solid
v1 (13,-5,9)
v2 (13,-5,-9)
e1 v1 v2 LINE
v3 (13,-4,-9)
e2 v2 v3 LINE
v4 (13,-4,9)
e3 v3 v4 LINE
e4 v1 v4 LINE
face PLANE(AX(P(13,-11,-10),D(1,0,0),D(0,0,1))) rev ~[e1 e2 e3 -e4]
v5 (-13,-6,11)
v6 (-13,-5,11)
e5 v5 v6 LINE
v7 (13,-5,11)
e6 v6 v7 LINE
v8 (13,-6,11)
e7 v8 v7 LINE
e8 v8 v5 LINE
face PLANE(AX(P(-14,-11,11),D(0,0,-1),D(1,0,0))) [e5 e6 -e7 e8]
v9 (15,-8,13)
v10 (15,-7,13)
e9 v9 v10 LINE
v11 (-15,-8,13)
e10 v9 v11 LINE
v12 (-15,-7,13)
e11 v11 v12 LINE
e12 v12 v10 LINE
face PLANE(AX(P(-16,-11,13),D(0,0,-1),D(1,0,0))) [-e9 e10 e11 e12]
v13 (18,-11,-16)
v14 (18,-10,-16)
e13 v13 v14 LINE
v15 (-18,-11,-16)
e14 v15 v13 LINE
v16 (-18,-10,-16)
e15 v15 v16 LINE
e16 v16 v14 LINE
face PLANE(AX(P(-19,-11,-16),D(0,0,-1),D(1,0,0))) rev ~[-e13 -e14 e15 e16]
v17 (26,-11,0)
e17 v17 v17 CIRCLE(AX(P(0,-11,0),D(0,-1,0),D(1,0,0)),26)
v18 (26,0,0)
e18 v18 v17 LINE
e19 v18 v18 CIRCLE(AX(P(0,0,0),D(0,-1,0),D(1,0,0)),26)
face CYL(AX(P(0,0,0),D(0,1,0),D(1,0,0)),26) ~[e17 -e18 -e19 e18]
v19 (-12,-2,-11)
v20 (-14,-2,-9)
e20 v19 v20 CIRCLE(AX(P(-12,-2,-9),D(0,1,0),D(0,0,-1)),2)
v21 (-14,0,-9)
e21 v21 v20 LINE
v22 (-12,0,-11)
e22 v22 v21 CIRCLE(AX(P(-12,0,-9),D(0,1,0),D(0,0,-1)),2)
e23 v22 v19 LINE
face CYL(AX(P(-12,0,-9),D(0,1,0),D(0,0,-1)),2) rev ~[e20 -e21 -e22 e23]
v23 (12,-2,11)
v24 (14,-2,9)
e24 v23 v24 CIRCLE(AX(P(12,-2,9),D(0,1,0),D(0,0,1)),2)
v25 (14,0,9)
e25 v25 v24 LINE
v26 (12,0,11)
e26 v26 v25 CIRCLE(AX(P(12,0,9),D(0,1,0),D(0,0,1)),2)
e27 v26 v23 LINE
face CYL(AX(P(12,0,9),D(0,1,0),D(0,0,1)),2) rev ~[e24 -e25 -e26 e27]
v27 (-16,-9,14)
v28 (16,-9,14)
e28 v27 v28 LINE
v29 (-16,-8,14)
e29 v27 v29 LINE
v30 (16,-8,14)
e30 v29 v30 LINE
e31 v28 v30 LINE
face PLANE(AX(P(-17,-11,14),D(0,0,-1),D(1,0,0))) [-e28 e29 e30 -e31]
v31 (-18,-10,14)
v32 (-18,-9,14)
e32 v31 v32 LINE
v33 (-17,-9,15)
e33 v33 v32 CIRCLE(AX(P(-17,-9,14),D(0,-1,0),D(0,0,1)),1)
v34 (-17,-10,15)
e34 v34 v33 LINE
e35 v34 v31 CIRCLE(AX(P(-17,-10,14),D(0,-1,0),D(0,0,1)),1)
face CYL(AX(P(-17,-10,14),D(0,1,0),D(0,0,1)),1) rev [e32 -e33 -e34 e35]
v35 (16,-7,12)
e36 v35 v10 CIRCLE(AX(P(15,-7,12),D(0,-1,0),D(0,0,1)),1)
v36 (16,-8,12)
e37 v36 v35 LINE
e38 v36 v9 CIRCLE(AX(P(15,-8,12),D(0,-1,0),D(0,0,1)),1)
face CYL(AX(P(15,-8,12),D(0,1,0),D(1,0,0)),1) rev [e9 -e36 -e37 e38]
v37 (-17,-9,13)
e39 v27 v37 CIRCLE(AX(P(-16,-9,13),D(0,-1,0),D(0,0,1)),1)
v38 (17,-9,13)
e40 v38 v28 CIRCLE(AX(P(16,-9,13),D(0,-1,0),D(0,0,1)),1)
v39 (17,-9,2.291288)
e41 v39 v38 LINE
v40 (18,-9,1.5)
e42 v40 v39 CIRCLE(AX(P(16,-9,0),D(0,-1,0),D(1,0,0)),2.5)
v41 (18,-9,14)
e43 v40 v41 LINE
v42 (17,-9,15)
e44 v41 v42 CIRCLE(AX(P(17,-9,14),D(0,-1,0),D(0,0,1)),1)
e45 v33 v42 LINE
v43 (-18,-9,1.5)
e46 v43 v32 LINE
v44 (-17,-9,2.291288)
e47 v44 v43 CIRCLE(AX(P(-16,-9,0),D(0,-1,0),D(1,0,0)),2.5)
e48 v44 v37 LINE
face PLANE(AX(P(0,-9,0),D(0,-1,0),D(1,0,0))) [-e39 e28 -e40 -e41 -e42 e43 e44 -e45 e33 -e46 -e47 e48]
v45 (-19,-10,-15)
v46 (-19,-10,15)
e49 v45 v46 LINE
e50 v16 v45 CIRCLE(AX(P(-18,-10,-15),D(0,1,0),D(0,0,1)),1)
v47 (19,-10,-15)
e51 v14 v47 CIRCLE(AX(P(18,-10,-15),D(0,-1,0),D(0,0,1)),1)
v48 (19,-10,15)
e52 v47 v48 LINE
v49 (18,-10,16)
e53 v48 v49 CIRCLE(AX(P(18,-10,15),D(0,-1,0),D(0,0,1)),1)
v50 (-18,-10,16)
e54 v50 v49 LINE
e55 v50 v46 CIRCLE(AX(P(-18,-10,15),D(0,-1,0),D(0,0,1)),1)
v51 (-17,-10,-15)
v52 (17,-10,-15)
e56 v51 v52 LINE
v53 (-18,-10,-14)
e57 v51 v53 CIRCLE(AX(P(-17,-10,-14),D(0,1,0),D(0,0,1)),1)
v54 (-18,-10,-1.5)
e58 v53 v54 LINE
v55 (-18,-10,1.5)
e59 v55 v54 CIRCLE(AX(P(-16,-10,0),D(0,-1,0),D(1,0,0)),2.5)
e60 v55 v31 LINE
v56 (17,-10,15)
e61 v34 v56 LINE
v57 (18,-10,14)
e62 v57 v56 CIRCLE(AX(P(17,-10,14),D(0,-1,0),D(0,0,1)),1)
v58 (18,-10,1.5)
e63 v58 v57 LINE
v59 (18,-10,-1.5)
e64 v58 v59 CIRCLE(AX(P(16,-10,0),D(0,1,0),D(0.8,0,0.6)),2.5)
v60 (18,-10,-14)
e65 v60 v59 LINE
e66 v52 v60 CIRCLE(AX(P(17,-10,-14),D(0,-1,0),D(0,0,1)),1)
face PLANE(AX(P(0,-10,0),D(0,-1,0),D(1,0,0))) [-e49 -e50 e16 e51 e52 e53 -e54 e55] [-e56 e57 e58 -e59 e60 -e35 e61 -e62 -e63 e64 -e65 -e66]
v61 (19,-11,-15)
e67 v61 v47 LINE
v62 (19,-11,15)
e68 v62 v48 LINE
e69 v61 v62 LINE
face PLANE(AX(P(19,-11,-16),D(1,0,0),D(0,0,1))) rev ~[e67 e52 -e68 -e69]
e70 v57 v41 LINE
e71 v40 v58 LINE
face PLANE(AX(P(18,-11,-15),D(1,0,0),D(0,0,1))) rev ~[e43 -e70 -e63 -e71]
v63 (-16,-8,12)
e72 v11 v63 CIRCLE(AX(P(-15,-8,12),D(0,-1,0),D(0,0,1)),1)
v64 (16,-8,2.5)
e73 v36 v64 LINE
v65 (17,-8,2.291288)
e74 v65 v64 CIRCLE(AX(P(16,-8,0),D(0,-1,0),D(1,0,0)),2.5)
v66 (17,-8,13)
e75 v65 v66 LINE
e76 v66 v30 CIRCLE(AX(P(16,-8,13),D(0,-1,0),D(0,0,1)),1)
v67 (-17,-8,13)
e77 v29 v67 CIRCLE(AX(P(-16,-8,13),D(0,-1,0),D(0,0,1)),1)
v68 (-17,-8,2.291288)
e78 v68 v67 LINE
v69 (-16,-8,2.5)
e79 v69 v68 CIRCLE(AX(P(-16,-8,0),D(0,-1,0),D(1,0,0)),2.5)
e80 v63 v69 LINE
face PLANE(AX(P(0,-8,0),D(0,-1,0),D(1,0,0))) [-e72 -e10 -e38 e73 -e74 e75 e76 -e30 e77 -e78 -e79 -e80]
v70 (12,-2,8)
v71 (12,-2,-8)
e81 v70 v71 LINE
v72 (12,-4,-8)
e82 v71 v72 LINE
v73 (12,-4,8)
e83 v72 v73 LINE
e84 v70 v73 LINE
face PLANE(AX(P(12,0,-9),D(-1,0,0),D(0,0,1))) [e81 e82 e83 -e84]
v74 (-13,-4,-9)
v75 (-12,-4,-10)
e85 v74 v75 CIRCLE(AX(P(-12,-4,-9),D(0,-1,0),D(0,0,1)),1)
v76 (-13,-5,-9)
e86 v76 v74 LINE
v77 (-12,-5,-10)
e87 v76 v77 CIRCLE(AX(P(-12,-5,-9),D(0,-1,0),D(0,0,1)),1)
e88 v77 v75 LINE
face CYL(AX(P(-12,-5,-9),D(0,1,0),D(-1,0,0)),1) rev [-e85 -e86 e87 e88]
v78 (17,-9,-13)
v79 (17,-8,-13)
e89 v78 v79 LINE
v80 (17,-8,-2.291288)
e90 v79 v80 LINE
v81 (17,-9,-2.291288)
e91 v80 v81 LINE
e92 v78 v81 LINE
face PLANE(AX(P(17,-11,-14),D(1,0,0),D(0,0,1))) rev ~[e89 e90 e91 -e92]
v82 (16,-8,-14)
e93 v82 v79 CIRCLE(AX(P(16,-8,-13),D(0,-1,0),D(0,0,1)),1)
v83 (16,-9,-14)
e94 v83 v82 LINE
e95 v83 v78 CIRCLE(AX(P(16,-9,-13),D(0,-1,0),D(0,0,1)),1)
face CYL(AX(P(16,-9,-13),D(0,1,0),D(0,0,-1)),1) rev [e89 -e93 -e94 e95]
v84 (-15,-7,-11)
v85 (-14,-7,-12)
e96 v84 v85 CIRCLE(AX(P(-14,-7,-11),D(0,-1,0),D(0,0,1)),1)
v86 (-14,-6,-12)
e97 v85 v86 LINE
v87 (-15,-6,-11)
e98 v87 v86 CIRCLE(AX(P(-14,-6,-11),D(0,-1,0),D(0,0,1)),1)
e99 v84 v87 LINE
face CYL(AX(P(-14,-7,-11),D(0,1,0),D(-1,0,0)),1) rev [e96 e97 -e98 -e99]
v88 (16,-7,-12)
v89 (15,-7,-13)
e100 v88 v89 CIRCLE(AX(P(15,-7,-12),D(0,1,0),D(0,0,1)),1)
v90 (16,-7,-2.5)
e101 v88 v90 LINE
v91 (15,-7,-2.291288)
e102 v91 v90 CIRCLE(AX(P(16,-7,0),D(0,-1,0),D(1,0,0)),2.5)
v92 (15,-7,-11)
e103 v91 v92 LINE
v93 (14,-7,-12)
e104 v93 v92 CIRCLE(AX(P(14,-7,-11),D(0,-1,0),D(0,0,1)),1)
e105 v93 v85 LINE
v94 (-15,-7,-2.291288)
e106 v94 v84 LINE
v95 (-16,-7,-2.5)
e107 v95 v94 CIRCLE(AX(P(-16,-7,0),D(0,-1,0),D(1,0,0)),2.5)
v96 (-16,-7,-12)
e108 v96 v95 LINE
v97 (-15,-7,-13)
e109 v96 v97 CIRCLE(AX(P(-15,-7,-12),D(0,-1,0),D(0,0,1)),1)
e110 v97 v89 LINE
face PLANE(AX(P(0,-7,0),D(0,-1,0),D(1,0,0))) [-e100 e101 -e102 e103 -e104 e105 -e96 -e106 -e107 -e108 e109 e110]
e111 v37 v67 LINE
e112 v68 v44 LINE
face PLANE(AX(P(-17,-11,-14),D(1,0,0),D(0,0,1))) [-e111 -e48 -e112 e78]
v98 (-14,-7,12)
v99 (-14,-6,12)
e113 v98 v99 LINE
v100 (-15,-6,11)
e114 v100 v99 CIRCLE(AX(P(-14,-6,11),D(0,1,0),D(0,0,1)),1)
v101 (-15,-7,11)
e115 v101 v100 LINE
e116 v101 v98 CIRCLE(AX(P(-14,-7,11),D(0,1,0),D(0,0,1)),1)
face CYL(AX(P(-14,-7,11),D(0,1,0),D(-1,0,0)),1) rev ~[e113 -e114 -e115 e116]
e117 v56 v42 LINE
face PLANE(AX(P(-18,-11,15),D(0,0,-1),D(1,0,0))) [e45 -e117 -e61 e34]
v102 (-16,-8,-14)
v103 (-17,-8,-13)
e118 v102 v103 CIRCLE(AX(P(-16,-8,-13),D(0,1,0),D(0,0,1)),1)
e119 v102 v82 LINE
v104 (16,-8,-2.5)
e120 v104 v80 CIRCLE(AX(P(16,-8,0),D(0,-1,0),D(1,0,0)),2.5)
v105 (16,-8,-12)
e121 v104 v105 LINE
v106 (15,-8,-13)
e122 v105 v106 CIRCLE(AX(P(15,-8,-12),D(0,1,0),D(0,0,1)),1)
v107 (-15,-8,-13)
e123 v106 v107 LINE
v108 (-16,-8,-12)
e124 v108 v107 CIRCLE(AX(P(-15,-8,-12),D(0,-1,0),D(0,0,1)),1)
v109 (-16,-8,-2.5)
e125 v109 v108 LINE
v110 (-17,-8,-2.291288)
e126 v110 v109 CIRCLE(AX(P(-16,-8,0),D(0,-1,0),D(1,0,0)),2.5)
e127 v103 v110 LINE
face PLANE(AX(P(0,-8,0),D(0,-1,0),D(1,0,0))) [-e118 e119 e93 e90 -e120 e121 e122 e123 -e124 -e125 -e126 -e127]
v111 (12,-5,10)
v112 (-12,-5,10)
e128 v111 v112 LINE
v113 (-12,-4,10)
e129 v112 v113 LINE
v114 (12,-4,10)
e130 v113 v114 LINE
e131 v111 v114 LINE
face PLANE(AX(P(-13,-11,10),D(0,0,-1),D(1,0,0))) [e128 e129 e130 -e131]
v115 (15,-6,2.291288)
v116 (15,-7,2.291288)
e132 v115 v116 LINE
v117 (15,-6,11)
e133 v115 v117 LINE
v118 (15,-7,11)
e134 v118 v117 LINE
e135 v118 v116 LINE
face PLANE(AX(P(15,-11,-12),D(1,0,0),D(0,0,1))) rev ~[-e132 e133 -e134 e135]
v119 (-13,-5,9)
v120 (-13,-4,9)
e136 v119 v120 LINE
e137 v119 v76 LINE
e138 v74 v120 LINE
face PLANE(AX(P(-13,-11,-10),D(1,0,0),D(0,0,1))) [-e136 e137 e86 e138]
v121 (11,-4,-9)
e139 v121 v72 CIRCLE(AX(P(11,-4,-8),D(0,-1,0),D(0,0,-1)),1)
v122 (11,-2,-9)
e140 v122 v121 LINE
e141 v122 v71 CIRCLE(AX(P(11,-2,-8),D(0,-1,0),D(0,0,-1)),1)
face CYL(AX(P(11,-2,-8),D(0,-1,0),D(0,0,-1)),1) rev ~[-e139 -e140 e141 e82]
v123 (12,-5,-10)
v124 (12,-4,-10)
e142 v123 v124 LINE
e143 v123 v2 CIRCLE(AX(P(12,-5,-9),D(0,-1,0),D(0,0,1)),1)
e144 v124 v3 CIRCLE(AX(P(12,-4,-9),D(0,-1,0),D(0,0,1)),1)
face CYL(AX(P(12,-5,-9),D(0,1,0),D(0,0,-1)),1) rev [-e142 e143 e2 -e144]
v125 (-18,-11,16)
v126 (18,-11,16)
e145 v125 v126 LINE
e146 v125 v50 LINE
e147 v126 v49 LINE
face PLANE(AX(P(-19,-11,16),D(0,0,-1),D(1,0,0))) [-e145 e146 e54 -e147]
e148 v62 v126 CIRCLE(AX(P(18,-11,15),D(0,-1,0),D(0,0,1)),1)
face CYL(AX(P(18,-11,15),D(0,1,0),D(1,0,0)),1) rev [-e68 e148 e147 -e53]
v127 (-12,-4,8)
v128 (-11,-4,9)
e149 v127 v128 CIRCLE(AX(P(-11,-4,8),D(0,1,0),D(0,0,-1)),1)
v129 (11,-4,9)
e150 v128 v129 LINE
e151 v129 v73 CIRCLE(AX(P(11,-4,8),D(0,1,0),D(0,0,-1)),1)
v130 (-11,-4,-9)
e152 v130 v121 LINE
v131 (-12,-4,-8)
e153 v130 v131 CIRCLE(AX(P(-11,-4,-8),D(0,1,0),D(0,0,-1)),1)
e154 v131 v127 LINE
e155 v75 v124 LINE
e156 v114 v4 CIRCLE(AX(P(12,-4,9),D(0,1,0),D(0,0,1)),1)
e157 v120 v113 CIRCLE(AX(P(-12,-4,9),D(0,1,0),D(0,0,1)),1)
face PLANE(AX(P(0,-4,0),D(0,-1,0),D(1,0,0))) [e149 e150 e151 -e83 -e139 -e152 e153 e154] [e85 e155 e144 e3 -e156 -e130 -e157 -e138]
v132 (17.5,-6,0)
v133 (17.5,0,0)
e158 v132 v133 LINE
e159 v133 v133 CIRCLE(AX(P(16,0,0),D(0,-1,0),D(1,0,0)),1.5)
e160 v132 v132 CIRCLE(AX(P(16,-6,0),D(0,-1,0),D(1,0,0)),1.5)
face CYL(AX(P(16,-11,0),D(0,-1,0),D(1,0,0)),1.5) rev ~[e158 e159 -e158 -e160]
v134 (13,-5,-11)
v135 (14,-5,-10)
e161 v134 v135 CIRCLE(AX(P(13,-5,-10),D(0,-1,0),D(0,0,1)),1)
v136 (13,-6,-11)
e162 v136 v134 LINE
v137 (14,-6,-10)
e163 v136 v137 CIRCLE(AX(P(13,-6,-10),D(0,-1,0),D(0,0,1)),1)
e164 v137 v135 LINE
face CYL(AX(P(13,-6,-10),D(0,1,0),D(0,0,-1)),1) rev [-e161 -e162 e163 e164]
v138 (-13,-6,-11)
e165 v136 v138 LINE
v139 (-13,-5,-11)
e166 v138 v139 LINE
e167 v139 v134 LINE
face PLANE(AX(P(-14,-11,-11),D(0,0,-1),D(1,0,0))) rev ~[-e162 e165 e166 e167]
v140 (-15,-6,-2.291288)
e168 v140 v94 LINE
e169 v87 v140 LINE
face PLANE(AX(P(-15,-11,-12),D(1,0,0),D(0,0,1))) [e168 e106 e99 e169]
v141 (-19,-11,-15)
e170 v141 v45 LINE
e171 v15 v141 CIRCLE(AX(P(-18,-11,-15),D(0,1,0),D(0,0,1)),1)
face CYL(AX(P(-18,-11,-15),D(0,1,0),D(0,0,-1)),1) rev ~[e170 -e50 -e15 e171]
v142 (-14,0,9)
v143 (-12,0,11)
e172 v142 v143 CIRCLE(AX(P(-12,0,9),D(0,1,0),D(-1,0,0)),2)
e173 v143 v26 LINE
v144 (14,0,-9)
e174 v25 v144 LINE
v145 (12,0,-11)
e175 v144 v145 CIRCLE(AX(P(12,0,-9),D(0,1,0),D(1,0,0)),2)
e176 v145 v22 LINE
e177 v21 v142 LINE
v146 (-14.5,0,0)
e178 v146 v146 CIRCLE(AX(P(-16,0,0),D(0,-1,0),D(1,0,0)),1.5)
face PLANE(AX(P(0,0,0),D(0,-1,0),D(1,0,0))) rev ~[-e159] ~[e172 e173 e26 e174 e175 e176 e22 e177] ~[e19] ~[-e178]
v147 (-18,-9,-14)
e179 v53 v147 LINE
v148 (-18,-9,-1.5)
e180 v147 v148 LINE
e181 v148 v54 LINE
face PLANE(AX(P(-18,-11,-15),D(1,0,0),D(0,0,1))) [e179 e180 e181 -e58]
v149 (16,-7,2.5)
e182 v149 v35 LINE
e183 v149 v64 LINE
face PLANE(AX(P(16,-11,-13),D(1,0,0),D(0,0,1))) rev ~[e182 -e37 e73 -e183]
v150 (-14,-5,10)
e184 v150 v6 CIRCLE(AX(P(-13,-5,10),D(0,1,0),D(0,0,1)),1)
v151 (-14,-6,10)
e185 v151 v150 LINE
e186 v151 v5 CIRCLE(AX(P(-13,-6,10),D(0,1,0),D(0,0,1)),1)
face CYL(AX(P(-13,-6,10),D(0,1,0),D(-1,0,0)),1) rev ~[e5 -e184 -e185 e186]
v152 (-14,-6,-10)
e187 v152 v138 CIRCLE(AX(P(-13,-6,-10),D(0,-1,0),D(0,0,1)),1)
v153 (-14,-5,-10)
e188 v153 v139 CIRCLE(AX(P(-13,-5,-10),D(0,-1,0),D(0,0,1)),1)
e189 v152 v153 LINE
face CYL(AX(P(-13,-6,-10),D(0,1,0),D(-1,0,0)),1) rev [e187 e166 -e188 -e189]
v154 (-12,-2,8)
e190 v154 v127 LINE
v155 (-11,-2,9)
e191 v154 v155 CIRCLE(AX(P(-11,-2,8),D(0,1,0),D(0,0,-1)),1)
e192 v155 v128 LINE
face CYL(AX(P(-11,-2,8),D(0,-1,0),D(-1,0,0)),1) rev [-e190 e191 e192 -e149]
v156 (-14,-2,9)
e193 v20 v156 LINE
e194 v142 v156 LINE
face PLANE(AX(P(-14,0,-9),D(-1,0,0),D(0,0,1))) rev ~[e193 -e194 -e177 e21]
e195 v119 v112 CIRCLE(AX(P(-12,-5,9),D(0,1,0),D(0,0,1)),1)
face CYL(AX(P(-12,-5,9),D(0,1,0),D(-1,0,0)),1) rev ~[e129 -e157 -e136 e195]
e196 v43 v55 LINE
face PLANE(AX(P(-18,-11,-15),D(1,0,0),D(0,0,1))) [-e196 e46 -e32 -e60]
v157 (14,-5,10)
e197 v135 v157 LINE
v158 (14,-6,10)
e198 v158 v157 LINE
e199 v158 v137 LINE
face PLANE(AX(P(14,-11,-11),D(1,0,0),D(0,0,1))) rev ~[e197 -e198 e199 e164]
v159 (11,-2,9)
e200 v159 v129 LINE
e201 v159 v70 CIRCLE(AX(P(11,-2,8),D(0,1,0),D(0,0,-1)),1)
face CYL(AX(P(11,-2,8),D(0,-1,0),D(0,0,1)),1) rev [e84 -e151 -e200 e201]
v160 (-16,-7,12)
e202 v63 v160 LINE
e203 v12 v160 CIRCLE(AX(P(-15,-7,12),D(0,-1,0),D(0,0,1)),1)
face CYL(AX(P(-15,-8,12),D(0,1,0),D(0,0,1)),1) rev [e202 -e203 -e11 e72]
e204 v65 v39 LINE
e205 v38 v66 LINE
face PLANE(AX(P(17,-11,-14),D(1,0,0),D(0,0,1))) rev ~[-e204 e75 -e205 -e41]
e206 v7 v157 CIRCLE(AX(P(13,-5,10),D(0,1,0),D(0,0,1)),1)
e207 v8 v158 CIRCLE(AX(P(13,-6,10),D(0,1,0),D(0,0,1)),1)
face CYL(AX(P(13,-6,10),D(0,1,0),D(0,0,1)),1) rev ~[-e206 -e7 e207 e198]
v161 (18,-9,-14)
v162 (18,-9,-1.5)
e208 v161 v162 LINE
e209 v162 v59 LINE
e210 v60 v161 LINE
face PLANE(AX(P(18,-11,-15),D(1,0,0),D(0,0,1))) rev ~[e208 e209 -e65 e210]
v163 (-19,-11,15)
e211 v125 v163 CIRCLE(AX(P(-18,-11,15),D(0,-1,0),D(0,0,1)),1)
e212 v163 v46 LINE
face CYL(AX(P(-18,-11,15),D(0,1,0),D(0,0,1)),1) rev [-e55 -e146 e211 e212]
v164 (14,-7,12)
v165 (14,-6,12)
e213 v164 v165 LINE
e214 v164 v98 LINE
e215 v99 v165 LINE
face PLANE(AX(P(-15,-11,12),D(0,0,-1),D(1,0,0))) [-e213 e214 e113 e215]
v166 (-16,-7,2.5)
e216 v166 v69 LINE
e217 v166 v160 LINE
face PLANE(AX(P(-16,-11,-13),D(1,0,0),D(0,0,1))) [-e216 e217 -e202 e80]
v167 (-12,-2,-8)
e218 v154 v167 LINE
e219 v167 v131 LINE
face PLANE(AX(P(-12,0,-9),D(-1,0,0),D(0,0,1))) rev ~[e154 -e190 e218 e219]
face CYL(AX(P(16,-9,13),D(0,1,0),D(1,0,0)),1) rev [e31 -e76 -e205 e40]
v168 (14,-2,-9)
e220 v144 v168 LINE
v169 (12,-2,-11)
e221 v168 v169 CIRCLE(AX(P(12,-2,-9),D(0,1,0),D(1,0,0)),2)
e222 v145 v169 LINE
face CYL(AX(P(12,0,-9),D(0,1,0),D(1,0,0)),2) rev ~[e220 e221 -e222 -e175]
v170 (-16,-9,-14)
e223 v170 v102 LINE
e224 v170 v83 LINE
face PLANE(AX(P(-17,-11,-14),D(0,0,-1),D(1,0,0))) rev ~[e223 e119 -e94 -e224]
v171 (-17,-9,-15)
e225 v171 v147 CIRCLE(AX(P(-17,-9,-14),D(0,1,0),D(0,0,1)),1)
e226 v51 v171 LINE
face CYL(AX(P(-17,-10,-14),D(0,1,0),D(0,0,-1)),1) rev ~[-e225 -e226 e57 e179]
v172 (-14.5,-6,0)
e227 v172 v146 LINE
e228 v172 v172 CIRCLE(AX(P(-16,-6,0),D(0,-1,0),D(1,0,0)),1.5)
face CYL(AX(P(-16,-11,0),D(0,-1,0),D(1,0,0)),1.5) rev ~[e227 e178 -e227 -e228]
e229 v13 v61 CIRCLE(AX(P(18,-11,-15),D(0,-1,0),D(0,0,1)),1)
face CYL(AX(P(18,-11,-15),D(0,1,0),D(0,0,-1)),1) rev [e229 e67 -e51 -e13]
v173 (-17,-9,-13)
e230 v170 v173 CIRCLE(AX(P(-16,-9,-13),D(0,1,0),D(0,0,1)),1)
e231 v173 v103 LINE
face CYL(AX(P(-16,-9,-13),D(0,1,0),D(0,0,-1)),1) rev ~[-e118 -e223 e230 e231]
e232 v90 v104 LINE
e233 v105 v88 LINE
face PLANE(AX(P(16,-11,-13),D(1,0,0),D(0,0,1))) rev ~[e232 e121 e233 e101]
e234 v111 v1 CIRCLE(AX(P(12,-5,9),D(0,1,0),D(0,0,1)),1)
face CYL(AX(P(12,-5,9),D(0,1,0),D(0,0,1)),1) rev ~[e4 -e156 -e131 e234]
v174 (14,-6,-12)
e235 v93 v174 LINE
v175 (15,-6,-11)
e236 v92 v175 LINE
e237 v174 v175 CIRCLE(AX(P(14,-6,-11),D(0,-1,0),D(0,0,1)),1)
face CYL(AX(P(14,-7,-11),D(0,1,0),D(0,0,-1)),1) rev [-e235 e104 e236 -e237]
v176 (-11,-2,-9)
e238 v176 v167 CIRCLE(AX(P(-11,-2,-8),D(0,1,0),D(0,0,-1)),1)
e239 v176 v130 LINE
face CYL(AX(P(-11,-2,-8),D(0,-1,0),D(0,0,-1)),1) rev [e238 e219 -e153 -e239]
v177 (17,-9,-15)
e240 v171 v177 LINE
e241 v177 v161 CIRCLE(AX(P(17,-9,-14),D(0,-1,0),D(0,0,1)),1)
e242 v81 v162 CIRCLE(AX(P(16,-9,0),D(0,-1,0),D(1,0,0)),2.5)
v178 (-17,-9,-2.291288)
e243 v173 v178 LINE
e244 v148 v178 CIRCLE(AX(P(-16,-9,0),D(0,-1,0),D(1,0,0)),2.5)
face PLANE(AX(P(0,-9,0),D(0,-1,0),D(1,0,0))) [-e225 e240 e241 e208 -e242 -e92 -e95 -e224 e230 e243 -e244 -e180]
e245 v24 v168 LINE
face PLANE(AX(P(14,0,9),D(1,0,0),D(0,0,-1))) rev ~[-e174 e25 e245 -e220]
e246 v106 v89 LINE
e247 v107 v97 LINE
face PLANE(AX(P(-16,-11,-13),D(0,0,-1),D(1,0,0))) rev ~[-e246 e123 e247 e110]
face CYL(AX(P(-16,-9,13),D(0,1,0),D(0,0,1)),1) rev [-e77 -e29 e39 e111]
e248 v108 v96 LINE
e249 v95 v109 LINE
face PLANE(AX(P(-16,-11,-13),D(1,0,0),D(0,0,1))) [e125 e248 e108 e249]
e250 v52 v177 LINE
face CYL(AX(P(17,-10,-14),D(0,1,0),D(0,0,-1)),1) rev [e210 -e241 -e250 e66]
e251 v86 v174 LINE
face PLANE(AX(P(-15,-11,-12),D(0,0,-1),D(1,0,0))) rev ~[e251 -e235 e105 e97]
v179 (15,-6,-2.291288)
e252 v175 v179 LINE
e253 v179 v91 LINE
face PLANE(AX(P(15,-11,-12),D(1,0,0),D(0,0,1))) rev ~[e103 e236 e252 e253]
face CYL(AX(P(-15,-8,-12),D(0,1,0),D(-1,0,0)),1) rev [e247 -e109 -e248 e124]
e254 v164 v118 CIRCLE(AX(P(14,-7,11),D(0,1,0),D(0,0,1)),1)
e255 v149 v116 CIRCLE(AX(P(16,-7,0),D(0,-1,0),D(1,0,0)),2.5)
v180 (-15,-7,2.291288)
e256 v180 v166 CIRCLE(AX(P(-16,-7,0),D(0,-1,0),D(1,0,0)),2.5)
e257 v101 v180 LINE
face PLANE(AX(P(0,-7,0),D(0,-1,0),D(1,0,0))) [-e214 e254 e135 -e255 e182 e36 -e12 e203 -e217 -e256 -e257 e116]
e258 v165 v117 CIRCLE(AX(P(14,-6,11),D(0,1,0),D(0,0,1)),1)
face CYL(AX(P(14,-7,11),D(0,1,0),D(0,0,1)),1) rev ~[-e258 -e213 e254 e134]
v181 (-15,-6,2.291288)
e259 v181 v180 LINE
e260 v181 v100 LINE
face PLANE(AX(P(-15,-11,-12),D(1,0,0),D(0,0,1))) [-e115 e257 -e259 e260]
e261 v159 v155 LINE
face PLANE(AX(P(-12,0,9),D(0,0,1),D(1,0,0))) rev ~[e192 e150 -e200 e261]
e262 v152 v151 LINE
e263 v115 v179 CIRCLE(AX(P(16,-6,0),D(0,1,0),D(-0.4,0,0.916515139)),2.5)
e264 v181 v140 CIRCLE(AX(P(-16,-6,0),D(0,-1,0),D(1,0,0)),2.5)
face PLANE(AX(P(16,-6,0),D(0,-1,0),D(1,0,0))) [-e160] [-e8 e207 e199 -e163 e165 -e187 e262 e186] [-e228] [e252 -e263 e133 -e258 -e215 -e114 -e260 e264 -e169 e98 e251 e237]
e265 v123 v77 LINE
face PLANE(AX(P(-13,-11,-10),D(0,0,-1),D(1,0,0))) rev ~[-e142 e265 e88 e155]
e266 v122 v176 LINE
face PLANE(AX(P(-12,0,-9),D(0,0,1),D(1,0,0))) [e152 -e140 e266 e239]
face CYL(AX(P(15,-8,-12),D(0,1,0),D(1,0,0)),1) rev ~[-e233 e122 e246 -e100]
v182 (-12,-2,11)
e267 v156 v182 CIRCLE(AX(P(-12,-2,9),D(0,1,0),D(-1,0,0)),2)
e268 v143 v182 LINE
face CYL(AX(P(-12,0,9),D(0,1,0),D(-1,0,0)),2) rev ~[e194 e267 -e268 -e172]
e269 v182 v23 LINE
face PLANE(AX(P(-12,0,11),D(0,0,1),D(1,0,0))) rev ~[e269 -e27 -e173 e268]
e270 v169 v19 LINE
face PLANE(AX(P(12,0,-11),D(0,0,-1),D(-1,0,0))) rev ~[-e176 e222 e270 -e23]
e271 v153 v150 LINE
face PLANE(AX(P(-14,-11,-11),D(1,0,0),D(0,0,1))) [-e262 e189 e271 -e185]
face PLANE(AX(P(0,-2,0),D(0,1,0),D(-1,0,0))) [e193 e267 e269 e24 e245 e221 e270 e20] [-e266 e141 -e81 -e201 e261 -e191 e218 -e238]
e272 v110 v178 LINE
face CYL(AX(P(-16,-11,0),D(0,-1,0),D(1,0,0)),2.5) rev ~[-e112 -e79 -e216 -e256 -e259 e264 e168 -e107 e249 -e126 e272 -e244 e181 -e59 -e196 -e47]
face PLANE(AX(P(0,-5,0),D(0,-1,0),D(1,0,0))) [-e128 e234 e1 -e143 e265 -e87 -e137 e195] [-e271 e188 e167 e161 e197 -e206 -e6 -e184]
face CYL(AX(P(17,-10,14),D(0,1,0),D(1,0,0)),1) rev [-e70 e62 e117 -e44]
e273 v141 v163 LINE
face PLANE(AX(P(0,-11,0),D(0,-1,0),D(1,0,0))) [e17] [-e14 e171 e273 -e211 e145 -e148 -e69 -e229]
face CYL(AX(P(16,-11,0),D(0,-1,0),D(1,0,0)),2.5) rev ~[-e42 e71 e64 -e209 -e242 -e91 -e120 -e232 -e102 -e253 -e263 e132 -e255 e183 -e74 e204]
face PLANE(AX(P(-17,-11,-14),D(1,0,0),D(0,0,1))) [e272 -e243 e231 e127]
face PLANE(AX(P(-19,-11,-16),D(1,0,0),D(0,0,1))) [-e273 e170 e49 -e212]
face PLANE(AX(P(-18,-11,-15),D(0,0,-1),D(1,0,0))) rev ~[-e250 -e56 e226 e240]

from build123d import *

# Parameters (mm, degrees)
F0_R      = 26
F0_W      = 24
F0_H      = 18
F1_DEPTH  = 11
F3_DEPTH  = 2
F4_W      = 26
F4_H      = 20
F5_DEPTH  = 7
F6_W      = 28
F6_H      = 22
F7_DEPTH  = 6
F8_W      = 30
F8_H      = 24
F9_DEPTH  = 5
F10_W     = 32
F10_H     = 26
F11_DEPTH = 4
F12_DEPTH = 4
F13_W     = 34
F13_H     = 28
F14_DEPTH = 3
F15_W     = 36
F15_H     = 30
F15_W_2   = 34
F15_H_2   = 28
F16_DEPTH = 2
F17_W     = 38
F17_H     = 32
F17_W_2   = 36
F17_H_2   = 30
F18_DEPTH = 1
F19_R     = 1
F20_R     = 1.5
F21_DEPTH = 25
F22_R     = 2.5
F23_DEPTH = 5


with BuildPart() as f1:
    # F0 (on Front) → F1 (new body)
    with BuildSketch(Plane.XZ):
        Circle(F0_R)
        Rectangle(F0_W, F0_H, mode=Mode.SUBTRACT)
    extrude(amount=F1_DEPTH)

    # F2 (on face) → F3 (cut)
    with BuildSketch(Plane(origin=(0, 0, 0), x_dir=(-1, 0, 0), z_dir=(0, 1, 0))):
        with BuildLine():
            ThreePointArc((14, 9), (13.4142135624, 10.4142135624), (12, 11))
            Line((12, 11), (-12, 11))
            ThreePointArc((-12, 11), (-13.4142135624, 10.4142135624), (-14, 9))
            Line((-14, 9), (-14, -9))
            ThreePointArc((-14, -9), (-13.4142135624, -10.4142135624), (-12, -11))
            Line((-12, -11), (12, -11))
            ThreePointArc((12, -11), (13.4142135624, -10.4142135624), (14, -9))
            Line((14, -9), (14, 9))
        make_face()
    extrude(amount=-F3_DEPTH, mode=Mode.SUBTRACT)

    # F4 (on face) → F5 (cut)
    with BuildSketch(Plane.XZ.offset(11)):
        Rectangle(F4_W, F4_H)
    extrude(amount=-F5_DEPTH, mode=Mode.SUBTRACT)

    # F6 (on face) → F7 (cut)
    with BuildSketch(Plane.XZ.offset(11)):
        Rectangle(F6_W, F6_H)
    extrude(amount=-F7_DEPTH, mode=Mode.SUBTRACT)

    # F8 (on face) → F9 (cut)
    with BuildSketch(Plane.XZ.offset(11)):
        Rectangle(F8_W, F8_H)
    extrude(amount=-F9_DEPTH, mode=Mode.SUBTRACT)

    # F10 (on face) → F11 (cut)
    with BuildSketch(Plane.XZ.offset(11)):
        Rectangle(F10_W, F10_H)
    extrude(amount=-F11_DEPTH, mode=Mode.SUBTRACT)

    # F10 (on face) → F12 (cut)
    with BuildSketch(Plane.XZ.offset(11)):
        Rectangle(F10_W, F10_H)
    extrude(amount=-F12_DEPTH, mode=Mode.SUBTRACT)

    # F13 (on face) → F14 (cut)
    with BuildSketch(Plane.XZ.offset(11)):
        Rectangle(F13_W, F13_H)
    extrude(amount=-F14_DEPTH, mode=Mode.SUBTRACT)

    # F15 (on face) → F16 (cut)
    with BuildSketch(Plane.XZ.offset(11)):
        Rectangle(F15_W, F15_H)
        Rectangle(F15_W_2, F15_H_2, mode=Mode.SUBTRACT)
    extrude(amount=-F16_DEPTH, mode=Mode.SUBTRACT)

    # F17 (on face) → F18 (cut)
    with BuildSketch(Plane.XZ.offset(11)):
        Rectangle(F17_W, F17_H)
        Rectangle(F17_W_2, F17_H_2, mode=Mode.SUBTRACT)
    extrude(amount=-F18_DEPTH, mode=Mode.SUBTRACT)

    # F19
    f19_edges = [f1.edges().sort_by_distance(p)[0] for p in [
        (15, -6.5, -12),
        (13, -4.5, -10),
        (14, -5.5, -11),
        (12, -3, -9),
        (-15, -6.5, -12),
        (-14, -5.5, -11),
        (-13, -4.5, -10),
        (-12, -3, -9),
        (-12, -3, 9),
        (-13, -4.5, 10),
        (-14, -5.5, 11),
        (-15, -6.5, 12),
        (15, -6.5, 12),
        (14, -5.5, 11),
        (12, -3, 9),
        (13, -4.5, 10),
        (16, -7.5, -13),
        (17, -8.5, -14),
        (18, -9.5, -15),
        (19, -10.5, -16),
        (-16, -7.5, -13),
        (-17, -8.5, -14),
        (-18, -9.5, -15),
        (-19, -10.5, -16),
        (-16, -7.5, 13),
        (-17, -8.5, 14),
        (-18, -9.5, 15),
        (-19, -10.5, 16),
        (19, -10.5, 16),
        (18, -9.5, 15),
        (16, -7.5, 13),
        (17, -8.5, 14),
    ]]
    fillet(f19_edges, radius=F19_R)

    # F20 (on face) → F21 (cut)
    with BuildSketch(Plane.XZ.offset(11)):
        with Locations((-16, 0)):
            Circle(F20_R)
        with Locations((16, 0)):
            Circle(F20_R)
    extrude(amount=-F21_DEPTH, mode=Mode.SUBTRACT)

    # F22 (on face) → F23 (cut)
    with BuildSketch(Plane.XZ.offset(11)):
        with Locations((-16, 0)):
            Circle(F22_R)
        with Locations((16, 0)):
            Circle(F22_R)
    extrude(amount=-F23_DEPTH, mode=Mode.SUBTRACT)


solid = f1.part
